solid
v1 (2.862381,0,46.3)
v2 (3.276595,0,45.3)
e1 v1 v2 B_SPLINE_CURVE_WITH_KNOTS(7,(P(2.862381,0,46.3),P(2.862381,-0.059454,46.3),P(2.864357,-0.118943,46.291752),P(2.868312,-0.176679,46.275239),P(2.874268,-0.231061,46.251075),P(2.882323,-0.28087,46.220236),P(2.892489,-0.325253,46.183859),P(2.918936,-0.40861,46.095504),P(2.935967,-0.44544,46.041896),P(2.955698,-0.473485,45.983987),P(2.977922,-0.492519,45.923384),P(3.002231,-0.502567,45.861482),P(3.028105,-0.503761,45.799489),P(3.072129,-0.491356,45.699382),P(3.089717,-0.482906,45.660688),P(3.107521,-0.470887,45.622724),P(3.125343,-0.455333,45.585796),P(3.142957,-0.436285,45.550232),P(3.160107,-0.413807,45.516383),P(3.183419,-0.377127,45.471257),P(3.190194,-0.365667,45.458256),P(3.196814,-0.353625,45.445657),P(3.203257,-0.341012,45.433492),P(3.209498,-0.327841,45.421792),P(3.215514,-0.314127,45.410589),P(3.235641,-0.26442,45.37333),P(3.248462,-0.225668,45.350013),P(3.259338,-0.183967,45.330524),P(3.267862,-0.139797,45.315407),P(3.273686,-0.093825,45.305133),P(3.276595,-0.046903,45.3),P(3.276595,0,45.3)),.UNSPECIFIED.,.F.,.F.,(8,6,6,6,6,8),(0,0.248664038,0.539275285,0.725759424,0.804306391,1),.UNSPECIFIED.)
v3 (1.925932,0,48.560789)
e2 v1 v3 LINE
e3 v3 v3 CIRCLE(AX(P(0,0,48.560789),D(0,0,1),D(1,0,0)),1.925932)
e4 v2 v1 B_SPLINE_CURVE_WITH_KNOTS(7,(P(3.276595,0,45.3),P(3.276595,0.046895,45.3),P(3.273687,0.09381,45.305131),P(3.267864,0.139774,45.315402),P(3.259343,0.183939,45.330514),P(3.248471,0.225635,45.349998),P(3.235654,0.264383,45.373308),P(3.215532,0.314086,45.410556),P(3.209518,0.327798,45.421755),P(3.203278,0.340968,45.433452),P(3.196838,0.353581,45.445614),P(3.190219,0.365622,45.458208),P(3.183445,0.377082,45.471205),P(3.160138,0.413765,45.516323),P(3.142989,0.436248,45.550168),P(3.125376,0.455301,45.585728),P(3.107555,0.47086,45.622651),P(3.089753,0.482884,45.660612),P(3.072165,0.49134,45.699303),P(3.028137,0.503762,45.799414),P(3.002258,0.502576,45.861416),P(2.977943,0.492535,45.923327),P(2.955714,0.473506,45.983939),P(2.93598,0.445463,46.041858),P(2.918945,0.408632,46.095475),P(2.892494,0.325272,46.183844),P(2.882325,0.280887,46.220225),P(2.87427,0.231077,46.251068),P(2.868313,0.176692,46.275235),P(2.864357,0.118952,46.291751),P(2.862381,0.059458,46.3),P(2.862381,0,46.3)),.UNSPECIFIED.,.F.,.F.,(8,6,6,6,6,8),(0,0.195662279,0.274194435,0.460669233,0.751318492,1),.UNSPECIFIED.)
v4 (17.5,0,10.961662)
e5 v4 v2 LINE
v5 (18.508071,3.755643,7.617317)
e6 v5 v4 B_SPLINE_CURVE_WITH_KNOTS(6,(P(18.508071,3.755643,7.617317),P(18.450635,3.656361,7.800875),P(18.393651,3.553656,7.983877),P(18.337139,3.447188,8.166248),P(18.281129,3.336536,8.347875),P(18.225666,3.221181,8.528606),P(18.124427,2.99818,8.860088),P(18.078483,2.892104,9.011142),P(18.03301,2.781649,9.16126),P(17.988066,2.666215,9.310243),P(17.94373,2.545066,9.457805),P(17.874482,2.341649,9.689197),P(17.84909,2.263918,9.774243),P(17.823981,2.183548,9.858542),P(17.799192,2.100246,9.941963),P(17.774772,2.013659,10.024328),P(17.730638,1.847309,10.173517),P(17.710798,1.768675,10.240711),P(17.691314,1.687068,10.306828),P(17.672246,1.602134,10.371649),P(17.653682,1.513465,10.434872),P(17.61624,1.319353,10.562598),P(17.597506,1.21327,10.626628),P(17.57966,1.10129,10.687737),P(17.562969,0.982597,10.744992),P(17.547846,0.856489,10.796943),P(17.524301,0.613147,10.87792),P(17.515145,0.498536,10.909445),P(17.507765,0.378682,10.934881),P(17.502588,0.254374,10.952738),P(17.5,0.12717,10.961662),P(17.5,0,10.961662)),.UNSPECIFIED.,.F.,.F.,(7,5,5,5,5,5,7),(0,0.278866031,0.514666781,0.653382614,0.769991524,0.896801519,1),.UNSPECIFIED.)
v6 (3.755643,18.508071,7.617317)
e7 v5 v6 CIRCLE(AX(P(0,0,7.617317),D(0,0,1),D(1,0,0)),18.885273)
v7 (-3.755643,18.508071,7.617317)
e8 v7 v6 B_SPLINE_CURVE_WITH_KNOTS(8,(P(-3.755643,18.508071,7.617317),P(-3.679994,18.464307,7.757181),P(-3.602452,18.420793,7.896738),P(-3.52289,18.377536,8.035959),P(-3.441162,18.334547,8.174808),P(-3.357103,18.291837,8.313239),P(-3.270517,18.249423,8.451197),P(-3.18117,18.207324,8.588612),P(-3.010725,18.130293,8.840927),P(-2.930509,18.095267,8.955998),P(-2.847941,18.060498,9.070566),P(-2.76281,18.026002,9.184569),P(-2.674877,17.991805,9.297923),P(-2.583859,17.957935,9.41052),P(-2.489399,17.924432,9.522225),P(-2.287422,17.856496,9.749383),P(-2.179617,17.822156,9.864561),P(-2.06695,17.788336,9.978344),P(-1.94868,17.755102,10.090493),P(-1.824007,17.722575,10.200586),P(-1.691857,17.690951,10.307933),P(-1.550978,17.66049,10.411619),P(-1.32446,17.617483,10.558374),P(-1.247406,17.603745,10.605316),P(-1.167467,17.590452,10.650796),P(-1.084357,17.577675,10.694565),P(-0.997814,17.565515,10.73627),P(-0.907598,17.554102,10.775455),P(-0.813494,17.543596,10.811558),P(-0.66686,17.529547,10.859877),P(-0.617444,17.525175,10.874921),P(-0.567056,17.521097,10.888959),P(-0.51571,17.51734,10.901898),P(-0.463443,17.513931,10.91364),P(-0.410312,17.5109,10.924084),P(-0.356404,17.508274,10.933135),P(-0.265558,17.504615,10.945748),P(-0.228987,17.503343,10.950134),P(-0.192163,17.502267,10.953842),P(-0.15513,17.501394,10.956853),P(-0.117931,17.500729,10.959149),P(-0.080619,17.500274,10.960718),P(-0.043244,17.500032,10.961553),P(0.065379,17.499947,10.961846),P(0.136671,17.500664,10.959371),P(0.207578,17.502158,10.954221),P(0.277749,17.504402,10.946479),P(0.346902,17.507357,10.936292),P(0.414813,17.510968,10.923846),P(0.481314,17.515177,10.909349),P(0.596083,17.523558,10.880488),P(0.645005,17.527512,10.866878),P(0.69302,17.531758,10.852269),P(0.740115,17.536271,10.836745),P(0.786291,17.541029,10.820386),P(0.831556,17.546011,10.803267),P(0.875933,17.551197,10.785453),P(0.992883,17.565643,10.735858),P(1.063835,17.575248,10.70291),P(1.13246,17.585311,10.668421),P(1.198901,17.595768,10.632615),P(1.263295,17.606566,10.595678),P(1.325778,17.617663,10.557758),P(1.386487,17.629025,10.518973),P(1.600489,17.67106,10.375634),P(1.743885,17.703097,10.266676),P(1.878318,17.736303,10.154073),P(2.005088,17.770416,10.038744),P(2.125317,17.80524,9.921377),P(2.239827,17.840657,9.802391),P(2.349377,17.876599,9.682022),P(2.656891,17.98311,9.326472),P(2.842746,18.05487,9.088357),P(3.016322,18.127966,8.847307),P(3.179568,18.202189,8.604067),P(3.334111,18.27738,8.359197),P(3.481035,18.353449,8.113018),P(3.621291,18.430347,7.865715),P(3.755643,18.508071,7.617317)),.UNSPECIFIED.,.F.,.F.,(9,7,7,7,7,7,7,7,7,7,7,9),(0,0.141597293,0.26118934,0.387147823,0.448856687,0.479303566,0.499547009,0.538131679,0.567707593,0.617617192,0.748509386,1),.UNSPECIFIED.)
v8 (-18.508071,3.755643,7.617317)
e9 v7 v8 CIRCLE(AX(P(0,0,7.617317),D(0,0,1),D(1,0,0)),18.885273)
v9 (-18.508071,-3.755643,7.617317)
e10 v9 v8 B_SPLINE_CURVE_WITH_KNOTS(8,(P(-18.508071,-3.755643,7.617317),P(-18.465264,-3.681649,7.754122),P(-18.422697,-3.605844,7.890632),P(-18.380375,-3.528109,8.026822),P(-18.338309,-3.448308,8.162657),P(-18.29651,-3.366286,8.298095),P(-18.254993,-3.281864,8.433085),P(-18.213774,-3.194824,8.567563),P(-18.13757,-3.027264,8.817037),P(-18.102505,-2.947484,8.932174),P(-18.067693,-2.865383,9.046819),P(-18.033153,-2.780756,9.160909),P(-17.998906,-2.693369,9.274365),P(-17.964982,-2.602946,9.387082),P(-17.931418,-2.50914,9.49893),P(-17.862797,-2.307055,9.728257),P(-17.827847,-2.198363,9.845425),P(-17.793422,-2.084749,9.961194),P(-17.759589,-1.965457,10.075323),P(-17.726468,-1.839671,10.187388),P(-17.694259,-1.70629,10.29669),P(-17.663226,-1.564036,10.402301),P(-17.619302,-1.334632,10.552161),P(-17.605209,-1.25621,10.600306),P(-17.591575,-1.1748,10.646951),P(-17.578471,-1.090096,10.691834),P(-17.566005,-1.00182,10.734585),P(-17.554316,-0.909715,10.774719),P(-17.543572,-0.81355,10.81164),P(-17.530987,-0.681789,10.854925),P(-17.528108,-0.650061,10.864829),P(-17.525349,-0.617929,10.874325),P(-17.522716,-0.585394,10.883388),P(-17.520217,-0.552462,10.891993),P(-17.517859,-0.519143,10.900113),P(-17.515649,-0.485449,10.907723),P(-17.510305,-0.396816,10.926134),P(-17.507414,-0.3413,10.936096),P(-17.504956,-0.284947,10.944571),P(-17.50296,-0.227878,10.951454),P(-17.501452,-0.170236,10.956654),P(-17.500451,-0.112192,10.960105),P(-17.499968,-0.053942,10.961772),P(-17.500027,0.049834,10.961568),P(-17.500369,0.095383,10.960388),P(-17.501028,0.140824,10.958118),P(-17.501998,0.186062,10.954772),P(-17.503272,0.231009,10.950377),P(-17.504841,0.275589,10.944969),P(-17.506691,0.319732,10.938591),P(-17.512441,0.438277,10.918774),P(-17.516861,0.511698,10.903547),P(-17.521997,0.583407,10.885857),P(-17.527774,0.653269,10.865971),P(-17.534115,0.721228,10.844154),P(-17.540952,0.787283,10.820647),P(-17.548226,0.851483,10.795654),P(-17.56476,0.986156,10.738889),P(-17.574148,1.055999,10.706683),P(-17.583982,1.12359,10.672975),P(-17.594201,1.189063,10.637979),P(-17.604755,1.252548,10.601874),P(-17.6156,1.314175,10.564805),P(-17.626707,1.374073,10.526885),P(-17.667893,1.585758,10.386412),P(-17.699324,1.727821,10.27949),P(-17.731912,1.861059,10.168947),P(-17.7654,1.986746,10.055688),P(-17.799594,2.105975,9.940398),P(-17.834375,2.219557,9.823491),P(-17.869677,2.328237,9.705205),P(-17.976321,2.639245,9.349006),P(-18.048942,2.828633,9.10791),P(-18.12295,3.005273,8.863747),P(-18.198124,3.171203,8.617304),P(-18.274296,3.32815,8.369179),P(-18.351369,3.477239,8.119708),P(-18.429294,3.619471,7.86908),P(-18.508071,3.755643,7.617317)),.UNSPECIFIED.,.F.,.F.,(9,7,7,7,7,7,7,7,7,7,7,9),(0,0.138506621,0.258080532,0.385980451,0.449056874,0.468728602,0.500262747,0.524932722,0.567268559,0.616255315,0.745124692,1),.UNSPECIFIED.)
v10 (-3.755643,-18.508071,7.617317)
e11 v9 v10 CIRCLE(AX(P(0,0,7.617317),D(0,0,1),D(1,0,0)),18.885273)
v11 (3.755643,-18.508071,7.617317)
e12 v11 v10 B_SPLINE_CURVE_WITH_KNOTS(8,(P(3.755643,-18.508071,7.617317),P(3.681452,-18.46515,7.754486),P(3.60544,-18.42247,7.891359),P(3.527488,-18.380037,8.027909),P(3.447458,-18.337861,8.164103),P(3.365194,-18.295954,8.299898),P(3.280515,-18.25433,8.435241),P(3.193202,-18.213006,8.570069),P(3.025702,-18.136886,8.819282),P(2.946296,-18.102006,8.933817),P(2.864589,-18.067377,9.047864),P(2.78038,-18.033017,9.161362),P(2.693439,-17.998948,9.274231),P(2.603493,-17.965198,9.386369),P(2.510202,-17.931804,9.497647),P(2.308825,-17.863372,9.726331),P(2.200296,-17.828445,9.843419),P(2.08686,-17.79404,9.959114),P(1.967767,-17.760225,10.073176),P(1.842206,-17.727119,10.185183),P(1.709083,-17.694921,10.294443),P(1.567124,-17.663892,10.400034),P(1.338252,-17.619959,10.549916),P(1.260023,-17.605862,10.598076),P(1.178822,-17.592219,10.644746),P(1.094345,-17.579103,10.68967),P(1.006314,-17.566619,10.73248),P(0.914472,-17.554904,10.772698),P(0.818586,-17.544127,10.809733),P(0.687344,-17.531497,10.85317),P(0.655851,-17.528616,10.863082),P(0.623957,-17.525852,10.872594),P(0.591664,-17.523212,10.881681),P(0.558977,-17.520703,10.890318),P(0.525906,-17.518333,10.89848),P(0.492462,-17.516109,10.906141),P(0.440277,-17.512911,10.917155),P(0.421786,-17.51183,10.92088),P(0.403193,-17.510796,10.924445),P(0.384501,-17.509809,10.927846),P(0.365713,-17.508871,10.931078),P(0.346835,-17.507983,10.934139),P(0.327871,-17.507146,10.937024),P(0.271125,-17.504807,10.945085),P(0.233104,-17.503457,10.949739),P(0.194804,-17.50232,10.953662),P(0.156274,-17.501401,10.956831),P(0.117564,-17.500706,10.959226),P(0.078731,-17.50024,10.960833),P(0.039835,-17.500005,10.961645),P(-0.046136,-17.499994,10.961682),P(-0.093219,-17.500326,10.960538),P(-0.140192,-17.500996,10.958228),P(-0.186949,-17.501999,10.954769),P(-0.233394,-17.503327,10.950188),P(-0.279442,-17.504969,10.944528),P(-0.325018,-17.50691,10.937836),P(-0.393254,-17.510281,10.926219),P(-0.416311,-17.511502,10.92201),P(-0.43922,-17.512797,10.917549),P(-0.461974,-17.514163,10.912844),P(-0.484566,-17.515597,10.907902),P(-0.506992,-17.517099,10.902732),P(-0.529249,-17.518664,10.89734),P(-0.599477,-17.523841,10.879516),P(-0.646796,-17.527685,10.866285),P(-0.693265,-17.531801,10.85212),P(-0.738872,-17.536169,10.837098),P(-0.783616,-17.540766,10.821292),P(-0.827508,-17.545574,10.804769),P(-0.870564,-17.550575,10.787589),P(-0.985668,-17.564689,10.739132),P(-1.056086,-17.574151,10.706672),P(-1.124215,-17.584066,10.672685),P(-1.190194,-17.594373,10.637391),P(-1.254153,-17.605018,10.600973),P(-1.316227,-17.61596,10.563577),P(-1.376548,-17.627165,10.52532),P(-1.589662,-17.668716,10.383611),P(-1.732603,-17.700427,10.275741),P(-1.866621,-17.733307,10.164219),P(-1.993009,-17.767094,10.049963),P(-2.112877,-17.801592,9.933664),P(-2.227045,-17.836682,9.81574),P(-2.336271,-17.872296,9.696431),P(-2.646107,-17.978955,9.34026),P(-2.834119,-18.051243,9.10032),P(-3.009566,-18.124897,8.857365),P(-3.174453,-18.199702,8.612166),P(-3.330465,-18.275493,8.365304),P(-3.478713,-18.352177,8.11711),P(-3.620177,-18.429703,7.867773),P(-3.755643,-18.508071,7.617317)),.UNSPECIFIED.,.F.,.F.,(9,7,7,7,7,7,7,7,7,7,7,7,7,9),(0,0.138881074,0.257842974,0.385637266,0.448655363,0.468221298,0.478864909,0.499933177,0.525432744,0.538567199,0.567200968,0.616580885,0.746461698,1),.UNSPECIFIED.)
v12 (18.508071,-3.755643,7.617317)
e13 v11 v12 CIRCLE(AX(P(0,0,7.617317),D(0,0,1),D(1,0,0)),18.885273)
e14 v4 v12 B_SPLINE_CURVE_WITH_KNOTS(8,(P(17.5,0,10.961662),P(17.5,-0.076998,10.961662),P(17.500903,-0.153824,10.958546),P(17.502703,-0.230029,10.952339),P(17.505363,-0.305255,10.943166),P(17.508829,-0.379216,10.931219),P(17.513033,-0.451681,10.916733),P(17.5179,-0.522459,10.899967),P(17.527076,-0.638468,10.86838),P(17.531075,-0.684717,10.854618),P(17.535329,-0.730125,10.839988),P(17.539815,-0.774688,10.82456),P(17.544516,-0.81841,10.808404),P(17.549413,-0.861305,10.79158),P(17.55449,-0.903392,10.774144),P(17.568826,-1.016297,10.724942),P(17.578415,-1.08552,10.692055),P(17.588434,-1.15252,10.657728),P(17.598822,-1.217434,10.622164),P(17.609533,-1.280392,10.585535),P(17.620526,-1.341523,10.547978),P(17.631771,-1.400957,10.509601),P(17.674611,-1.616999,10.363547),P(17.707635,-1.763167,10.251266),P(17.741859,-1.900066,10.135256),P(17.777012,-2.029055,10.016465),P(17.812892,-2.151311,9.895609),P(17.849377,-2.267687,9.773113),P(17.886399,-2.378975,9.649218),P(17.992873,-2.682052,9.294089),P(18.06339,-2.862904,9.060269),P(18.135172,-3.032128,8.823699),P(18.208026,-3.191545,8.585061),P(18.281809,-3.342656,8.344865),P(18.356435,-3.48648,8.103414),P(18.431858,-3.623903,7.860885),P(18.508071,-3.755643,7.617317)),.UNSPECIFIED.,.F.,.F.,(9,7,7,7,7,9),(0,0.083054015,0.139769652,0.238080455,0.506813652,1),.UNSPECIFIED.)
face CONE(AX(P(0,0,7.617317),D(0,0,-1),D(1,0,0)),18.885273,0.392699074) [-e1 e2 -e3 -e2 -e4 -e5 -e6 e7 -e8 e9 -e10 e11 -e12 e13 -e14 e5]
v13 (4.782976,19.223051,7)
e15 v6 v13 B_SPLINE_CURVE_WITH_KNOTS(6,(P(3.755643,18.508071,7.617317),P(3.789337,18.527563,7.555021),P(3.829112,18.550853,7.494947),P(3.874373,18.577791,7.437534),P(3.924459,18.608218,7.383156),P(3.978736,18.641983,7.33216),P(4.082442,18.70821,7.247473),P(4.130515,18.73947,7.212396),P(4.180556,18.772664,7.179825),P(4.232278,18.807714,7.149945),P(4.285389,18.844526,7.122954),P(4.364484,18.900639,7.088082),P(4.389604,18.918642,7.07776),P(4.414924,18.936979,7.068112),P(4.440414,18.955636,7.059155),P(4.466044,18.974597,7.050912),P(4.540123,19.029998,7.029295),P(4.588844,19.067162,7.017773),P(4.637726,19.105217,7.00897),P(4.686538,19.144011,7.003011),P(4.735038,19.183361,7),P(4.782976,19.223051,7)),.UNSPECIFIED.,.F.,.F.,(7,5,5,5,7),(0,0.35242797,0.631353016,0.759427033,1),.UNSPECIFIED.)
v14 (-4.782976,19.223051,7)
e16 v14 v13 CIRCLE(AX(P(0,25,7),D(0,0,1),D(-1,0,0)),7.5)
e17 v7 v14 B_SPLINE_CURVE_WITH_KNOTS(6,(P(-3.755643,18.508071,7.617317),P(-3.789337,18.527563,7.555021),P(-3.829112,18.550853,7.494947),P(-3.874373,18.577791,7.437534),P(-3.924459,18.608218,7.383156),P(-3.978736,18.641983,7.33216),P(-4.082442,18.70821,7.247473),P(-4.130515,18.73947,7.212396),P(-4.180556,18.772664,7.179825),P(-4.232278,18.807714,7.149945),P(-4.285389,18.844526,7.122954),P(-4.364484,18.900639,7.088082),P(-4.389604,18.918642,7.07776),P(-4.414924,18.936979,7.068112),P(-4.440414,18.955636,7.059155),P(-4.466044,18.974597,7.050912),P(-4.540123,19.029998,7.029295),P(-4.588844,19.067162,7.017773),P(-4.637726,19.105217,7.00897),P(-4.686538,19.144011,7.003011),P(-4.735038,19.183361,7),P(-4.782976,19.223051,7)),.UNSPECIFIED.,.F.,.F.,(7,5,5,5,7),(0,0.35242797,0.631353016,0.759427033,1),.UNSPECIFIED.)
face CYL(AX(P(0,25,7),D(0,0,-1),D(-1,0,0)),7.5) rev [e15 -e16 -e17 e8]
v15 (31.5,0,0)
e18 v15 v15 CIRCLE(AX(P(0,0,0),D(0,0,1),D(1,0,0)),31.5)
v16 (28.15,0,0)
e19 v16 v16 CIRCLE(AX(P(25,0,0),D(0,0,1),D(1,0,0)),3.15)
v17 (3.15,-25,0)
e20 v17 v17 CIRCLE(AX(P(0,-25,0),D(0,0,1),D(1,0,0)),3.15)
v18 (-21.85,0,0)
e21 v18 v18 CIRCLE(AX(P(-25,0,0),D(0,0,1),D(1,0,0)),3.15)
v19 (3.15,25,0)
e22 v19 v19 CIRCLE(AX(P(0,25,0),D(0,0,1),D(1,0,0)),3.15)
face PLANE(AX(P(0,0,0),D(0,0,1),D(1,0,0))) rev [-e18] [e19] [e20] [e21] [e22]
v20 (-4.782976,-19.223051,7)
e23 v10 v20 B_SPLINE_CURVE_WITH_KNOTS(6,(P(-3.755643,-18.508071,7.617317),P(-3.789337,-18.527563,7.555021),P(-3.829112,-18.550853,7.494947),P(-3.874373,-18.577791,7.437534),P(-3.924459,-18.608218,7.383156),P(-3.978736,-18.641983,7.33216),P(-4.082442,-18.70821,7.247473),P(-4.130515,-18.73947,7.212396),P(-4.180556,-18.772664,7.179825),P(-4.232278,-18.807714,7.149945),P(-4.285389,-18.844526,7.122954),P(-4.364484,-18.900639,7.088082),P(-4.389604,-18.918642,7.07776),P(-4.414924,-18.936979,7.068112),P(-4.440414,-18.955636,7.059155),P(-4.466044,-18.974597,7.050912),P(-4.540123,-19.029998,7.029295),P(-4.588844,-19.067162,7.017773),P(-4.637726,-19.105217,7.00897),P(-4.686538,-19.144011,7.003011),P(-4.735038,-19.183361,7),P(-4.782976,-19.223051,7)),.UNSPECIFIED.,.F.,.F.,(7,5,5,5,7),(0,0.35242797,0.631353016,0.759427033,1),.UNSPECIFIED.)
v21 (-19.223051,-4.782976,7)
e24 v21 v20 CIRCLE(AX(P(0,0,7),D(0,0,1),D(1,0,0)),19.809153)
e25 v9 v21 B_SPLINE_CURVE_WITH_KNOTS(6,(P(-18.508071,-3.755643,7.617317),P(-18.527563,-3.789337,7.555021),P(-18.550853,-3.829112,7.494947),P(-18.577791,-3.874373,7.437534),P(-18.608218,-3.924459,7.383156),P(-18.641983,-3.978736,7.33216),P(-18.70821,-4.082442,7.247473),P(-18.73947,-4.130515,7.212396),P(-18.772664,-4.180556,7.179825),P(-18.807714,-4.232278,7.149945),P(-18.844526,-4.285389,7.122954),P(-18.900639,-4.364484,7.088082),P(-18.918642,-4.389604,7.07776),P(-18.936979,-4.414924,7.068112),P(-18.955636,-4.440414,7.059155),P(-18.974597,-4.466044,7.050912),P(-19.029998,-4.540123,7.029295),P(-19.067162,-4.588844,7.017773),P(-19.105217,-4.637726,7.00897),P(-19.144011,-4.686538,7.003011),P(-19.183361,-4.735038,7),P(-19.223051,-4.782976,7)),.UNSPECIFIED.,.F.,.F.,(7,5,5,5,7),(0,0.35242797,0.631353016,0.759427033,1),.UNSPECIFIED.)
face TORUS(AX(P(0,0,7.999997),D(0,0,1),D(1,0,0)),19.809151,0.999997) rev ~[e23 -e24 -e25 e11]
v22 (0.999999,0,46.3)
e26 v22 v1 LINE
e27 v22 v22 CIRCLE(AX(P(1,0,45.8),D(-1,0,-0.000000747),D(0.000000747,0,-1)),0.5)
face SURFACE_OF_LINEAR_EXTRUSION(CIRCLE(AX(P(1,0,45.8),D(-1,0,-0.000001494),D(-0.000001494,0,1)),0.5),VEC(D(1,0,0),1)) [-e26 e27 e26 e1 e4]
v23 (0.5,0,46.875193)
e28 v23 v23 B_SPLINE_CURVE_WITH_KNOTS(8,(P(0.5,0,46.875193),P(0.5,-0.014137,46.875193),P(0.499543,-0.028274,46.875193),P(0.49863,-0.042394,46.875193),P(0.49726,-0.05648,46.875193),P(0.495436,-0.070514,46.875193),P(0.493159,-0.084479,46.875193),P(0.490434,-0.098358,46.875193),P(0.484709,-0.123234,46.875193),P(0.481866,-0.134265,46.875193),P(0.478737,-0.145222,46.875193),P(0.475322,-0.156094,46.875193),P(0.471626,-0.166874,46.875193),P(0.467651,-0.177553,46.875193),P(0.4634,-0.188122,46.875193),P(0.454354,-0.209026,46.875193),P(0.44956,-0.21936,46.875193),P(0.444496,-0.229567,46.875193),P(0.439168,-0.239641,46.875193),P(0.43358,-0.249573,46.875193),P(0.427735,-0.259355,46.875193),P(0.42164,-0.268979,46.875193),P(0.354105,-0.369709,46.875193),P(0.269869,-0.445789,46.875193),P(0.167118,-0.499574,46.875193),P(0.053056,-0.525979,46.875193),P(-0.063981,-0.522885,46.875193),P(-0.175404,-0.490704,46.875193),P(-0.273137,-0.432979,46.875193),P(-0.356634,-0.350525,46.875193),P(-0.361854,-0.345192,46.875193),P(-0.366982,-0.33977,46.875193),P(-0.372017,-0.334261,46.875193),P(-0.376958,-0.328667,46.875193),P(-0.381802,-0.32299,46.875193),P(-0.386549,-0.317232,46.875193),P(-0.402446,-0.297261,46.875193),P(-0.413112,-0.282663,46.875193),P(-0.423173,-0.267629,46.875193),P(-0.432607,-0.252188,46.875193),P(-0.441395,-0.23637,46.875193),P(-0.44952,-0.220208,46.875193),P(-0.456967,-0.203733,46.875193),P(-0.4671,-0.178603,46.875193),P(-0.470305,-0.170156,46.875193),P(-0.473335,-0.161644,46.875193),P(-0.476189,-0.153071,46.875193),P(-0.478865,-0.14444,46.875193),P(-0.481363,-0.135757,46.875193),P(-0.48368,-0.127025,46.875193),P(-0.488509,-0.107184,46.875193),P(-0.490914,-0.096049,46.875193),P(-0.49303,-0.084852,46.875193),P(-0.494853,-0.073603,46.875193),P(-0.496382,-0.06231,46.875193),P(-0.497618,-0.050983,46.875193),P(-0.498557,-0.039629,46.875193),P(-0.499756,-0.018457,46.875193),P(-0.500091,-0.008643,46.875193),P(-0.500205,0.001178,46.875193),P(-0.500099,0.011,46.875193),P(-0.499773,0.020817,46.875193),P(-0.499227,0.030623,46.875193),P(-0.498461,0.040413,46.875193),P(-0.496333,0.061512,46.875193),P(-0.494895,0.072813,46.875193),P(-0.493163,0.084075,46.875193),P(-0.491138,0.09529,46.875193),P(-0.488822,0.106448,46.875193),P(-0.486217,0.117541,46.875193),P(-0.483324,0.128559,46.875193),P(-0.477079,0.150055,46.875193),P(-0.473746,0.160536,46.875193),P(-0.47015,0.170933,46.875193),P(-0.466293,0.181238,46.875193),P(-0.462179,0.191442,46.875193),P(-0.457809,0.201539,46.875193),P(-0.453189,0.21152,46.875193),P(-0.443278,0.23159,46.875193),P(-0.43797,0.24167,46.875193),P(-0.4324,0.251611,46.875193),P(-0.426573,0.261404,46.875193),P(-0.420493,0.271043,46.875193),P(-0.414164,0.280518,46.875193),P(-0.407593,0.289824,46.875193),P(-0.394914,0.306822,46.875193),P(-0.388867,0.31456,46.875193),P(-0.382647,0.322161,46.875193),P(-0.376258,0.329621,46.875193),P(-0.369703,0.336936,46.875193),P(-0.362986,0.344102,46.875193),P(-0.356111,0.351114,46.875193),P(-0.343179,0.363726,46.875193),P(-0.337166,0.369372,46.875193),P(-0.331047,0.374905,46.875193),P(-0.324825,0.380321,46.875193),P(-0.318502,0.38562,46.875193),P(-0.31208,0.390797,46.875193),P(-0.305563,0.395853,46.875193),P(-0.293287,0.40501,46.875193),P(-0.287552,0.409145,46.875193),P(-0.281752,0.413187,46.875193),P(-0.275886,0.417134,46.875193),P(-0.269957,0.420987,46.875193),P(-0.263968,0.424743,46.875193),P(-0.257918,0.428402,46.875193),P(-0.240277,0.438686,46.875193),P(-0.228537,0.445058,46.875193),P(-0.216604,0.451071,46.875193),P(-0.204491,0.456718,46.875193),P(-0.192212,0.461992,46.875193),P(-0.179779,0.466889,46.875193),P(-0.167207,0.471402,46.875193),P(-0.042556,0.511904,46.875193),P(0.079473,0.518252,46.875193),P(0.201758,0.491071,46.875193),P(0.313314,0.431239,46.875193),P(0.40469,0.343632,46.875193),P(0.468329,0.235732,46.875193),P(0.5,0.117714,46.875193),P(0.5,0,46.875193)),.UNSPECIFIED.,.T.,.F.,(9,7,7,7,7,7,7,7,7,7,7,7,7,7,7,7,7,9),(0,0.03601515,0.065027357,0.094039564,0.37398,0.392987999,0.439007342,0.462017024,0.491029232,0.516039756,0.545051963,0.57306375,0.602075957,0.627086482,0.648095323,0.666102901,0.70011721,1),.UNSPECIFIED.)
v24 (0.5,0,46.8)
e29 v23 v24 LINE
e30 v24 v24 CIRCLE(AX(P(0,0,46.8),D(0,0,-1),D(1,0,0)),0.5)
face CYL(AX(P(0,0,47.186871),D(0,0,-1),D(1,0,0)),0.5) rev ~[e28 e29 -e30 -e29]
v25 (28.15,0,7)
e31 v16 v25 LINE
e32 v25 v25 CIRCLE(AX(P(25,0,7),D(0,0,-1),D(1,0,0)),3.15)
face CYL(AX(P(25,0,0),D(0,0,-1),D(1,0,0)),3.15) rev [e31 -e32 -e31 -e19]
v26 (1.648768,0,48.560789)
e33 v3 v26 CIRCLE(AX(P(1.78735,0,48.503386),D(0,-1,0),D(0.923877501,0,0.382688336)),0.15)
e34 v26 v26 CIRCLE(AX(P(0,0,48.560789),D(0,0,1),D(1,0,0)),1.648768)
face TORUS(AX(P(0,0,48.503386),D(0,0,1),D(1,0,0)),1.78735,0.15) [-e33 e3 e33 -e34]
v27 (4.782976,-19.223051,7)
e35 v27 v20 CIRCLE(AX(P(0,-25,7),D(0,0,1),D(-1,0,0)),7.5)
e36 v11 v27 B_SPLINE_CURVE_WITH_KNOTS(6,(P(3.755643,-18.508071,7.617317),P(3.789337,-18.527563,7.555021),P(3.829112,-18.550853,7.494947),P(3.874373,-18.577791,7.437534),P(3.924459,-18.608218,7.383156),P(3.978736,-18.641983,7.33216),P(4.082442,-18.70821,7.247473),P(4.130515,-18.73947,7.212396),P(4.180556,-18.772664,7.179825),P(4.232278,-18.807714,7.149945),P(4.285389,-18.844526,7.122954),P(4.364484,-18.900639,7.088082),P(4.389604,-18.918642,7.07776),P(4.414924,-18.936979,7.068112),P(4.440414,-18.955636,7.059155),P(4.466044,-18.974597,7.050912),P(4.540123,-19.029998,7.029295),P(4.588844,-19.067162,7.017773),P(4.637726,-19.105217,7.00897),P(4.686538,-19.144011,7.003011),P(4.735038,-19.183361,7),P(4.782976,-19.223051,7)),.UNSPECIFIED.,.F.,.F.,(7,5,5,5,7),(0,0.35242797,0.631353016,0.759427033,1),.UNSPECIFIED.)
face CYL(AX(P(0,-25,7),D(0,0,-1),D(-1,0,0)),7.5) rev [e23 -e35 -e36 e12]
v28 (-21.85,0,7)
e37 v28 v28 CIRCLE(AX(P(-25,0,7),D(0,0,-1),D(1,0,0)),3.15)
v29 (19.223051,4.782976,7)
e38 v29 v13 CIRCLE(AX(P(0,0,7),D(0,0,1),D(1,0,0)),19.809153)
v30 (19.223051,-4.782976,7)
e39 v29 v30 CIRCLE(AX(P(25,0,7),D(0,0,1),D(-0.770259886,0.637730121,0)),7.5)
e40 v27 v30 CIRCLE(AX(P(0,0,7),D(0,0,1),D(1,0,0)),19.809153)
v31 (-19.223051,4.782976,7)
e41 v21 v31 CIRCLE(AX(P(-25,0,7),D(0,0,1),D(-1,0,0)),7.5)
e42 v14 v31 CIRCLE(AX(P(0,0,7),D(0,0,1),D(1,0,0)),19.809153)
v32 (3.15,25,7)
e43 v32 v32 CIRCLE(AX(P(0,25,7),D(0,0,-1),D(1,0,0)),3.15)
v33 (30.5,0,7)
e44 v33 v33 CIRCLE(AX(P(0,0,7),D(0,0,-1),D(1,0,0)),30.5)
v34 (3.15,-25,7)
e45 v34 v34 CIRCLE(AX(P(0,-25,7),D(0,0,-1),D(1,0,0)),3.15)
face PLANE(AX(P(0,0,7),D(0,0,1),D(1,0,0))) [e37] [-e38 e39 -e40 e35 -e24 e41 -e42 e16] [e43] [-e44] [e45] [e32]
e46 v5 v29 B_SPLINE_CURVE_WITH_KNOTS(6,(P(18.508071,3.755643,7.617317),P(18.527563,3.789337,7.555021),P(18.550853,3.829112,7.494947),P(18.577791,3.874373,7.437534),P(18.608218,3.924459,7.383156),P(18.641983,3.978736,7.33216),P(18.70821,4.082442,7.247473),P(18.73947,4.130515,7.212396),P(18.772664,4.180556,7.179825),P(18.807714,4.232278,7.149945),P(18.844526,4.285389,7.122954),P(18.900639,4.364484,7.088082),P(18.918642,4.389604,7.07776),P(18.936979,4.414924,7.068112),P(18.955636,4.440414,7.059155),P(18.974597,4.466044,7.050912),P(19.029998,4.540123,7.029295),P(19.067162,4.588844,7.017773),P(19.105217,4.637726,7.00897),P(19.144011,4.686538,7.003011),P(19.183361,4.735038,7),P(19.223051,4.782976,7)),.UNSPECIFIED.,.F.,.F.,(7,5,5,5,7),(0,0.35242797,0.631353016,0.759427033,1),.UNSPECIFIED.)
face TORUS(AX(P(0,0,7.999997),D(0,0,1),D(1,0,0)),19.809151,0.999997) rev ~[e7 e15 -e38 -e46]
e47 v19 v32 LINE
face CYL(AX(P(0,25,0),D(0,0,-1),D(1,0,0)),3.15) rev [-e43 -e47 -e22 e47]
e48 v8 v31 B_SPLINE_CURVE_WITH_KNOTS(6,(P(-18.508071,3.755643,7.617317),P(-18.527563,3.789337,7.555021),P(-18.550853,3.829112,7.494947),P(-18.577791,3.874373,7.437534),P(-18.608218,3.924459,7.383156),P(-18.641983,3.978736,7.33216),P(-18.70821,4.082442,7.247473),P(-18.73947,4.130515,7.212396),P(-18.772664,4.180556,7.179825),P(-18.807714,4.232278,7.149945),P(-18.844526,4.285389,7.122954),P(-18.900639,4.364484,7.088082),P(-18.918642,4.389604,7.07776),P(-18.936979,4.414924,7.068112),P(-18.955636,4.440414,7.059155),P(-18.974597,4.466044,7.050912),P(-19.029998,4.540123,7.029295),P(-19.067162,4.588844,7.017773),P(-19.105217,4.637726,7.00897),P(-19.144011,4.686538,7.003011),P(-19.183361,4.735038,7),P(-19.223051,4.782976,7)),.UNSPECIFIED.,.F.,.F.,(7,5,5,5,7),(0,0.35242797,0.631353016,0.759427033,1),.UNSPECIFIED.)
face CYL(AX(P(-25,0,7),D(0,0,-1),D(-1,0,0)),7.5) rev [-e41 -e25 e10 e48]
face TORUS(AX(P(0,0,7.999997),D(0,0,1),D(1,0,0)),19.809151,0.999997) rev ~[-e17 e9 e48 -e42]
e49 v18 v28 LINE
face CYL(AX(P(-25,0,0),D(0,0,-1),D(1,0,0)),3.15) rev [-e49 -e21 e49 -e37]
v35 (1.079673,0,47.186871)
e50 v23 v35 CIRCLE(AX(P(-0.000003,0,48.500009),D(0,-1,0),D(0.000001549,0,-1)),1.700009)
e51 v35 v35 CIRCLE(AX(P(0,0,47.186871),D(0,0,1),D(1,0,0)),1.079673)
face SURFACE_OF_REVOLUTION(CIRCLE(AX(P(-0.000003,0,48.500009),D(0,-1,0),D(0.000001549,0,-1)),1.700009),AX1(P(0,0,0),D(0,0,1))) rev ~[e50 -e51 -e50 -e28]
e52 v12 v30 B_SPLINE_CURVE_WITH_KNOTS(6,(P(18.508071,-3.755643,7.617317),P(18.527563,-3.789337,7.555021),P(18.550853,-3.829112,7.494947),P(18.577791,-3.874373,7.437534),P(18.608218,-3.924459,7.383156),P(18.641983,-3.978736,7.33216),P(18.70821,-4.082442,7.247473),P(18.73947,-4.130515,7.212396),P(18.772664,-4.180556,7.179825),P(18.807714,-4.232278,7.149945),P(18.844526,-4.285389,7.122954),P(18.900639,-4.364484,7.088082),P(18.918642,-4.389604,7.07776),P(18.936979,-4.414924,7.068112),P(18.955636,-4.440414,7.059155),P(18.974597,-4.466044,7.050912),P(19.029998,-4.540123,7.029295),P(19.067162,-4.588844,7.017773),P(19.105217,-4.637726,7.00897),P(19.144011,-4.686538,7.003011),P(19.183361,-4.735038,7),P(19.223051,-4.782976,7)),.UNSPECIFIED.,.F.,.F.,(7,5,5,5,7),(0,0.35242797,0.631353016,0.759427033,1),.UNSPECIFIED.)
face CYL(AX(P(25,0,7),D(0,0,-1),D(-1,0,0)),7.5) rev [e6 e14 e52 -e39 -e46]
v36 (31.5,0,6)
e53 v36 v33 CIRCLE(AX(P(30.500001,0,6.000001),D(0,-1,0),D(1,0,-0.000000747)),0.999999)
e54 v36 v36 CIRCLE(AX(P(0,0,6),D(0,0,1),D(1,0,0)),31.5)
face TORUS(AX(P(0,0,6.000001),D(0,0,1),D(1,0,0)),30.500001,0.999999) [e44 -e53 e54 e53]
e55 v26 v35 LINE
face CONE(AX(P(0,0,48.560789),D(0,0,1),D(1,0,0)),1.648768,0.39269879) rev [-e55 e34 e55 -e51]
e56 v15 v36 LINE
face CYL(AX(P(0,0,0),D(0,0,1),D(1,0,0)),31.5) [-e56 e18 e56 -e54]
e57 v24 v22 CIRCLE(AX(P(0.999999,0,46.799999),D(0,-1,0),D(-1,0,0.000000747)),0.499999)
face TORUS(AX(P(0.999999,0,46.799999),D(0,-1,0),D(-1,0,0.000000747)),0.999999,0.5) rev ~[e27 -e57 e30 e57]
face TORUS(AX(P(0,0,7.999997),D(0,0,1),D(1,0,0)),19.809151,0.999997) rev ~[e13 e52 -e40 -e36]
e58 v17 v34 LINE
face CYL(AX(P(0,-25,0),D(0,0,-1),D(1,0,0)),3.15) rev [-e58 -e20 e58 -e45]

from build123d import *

# Parameters (mm, degrees)
SKETCH004_R     = 3.15
POCKET_DEPTH    = 48.654386
SKETCH005_R     = 7.5
POCKET001_DEPTH = 41.654386
SKETCH006_R     = 0.5


with BuildPart() as part:
    # Sketch003 → Revolution (revolve)
    with BuildSketch(Plane.XZ):
        with BuildLine():
            Line((0, 0), (31.5, 0))
            Line((31.5, 0), (31.5, 6))
            ThreePointArc((31.5, 6), (31.207107, 6.707107), (30.5, 7))
            Line((30.5, 7), (19.809153, 7))
            ThreePointArc((18.885273, 7.617317), (19.253582, 7.16853), (19.809153, 7))
            Line((18.885273, 7.617317), (1.925932, 48.560789))
            ThreePointArc((1.925932, 48.560789), (1.78735, 48.653386), (1.648768, 48.560789))
            Line((1.648768, 48.560789), (1.079673, 47.186871))
            ThreePointArc((0, 46.8), (0.573446, 46.899638), (1.079673, 47.186871))
            Line((0, 0), (0, 46.8))
        make_face()
    revolve(axis=Axis((0, 0, 0), (0, 0, 1)))

    # Sketch004 → Pocket (cut, through all)
    with BuildSketch(Plane.XY):
        with Locations((25, 0)):
            Circle(SKETCH004_R)
        with Locations((-25, 0)):
            Circle(SKETCH004_R)
        with Locations((0, 25)):
            Circle(SKETCH004_R)
        with Locations((0, -25)):
            Circle(SKETCH004_R)
    extrude(amount=POCKET_DEPTH, mode=Mode.SUBTRACT)

    # Sketch005 (on DatumPlane) → Pocket001 (cut, through all)
    with BuildSketch(Plane(origin=(0, 0, 7), x_dir=(-1, 0, 0), z_dir=(0, 0, 1))):
        with Locations((25, 0)):
            Circle(SKETCH005_R)
        with Locations((0, 25)):
            Circle(SKETCH005_R)
        with Locations((-25, 0)):
            Circle(SKETCH005_R)
        with Locations((0, -25)):
            Circle(SKETCH005_R)
    extrude(amount=POCKET001_DEPTH, mode=Mode.SUBTRACT)

    # SubtractivePipe: sweep along a path in Sketch
    with BuildLine(Plane.XZ) as subtractivepipe_path:
        Line((0, 47.186871), (0, 46.8))
        ThreePointArc((0, 46.8), (0.292893, 46.092893), (1, 45.8))
        Line((1, 45.8), (3.069488, 45.8))
        Line((3.069488, 45.8), (4.069488, 45.8))
    # Sketch006 (on DatumPlane) → SubtractivePipe (sweep, cut)
    with BuildSketch(Plane.XY.offset(47.186871)):
        Circle(SKETCH006_R)
    sweep(path=subtractivepipe_path.line, mode=Mode.SUBTRACT)


solid = part.part
